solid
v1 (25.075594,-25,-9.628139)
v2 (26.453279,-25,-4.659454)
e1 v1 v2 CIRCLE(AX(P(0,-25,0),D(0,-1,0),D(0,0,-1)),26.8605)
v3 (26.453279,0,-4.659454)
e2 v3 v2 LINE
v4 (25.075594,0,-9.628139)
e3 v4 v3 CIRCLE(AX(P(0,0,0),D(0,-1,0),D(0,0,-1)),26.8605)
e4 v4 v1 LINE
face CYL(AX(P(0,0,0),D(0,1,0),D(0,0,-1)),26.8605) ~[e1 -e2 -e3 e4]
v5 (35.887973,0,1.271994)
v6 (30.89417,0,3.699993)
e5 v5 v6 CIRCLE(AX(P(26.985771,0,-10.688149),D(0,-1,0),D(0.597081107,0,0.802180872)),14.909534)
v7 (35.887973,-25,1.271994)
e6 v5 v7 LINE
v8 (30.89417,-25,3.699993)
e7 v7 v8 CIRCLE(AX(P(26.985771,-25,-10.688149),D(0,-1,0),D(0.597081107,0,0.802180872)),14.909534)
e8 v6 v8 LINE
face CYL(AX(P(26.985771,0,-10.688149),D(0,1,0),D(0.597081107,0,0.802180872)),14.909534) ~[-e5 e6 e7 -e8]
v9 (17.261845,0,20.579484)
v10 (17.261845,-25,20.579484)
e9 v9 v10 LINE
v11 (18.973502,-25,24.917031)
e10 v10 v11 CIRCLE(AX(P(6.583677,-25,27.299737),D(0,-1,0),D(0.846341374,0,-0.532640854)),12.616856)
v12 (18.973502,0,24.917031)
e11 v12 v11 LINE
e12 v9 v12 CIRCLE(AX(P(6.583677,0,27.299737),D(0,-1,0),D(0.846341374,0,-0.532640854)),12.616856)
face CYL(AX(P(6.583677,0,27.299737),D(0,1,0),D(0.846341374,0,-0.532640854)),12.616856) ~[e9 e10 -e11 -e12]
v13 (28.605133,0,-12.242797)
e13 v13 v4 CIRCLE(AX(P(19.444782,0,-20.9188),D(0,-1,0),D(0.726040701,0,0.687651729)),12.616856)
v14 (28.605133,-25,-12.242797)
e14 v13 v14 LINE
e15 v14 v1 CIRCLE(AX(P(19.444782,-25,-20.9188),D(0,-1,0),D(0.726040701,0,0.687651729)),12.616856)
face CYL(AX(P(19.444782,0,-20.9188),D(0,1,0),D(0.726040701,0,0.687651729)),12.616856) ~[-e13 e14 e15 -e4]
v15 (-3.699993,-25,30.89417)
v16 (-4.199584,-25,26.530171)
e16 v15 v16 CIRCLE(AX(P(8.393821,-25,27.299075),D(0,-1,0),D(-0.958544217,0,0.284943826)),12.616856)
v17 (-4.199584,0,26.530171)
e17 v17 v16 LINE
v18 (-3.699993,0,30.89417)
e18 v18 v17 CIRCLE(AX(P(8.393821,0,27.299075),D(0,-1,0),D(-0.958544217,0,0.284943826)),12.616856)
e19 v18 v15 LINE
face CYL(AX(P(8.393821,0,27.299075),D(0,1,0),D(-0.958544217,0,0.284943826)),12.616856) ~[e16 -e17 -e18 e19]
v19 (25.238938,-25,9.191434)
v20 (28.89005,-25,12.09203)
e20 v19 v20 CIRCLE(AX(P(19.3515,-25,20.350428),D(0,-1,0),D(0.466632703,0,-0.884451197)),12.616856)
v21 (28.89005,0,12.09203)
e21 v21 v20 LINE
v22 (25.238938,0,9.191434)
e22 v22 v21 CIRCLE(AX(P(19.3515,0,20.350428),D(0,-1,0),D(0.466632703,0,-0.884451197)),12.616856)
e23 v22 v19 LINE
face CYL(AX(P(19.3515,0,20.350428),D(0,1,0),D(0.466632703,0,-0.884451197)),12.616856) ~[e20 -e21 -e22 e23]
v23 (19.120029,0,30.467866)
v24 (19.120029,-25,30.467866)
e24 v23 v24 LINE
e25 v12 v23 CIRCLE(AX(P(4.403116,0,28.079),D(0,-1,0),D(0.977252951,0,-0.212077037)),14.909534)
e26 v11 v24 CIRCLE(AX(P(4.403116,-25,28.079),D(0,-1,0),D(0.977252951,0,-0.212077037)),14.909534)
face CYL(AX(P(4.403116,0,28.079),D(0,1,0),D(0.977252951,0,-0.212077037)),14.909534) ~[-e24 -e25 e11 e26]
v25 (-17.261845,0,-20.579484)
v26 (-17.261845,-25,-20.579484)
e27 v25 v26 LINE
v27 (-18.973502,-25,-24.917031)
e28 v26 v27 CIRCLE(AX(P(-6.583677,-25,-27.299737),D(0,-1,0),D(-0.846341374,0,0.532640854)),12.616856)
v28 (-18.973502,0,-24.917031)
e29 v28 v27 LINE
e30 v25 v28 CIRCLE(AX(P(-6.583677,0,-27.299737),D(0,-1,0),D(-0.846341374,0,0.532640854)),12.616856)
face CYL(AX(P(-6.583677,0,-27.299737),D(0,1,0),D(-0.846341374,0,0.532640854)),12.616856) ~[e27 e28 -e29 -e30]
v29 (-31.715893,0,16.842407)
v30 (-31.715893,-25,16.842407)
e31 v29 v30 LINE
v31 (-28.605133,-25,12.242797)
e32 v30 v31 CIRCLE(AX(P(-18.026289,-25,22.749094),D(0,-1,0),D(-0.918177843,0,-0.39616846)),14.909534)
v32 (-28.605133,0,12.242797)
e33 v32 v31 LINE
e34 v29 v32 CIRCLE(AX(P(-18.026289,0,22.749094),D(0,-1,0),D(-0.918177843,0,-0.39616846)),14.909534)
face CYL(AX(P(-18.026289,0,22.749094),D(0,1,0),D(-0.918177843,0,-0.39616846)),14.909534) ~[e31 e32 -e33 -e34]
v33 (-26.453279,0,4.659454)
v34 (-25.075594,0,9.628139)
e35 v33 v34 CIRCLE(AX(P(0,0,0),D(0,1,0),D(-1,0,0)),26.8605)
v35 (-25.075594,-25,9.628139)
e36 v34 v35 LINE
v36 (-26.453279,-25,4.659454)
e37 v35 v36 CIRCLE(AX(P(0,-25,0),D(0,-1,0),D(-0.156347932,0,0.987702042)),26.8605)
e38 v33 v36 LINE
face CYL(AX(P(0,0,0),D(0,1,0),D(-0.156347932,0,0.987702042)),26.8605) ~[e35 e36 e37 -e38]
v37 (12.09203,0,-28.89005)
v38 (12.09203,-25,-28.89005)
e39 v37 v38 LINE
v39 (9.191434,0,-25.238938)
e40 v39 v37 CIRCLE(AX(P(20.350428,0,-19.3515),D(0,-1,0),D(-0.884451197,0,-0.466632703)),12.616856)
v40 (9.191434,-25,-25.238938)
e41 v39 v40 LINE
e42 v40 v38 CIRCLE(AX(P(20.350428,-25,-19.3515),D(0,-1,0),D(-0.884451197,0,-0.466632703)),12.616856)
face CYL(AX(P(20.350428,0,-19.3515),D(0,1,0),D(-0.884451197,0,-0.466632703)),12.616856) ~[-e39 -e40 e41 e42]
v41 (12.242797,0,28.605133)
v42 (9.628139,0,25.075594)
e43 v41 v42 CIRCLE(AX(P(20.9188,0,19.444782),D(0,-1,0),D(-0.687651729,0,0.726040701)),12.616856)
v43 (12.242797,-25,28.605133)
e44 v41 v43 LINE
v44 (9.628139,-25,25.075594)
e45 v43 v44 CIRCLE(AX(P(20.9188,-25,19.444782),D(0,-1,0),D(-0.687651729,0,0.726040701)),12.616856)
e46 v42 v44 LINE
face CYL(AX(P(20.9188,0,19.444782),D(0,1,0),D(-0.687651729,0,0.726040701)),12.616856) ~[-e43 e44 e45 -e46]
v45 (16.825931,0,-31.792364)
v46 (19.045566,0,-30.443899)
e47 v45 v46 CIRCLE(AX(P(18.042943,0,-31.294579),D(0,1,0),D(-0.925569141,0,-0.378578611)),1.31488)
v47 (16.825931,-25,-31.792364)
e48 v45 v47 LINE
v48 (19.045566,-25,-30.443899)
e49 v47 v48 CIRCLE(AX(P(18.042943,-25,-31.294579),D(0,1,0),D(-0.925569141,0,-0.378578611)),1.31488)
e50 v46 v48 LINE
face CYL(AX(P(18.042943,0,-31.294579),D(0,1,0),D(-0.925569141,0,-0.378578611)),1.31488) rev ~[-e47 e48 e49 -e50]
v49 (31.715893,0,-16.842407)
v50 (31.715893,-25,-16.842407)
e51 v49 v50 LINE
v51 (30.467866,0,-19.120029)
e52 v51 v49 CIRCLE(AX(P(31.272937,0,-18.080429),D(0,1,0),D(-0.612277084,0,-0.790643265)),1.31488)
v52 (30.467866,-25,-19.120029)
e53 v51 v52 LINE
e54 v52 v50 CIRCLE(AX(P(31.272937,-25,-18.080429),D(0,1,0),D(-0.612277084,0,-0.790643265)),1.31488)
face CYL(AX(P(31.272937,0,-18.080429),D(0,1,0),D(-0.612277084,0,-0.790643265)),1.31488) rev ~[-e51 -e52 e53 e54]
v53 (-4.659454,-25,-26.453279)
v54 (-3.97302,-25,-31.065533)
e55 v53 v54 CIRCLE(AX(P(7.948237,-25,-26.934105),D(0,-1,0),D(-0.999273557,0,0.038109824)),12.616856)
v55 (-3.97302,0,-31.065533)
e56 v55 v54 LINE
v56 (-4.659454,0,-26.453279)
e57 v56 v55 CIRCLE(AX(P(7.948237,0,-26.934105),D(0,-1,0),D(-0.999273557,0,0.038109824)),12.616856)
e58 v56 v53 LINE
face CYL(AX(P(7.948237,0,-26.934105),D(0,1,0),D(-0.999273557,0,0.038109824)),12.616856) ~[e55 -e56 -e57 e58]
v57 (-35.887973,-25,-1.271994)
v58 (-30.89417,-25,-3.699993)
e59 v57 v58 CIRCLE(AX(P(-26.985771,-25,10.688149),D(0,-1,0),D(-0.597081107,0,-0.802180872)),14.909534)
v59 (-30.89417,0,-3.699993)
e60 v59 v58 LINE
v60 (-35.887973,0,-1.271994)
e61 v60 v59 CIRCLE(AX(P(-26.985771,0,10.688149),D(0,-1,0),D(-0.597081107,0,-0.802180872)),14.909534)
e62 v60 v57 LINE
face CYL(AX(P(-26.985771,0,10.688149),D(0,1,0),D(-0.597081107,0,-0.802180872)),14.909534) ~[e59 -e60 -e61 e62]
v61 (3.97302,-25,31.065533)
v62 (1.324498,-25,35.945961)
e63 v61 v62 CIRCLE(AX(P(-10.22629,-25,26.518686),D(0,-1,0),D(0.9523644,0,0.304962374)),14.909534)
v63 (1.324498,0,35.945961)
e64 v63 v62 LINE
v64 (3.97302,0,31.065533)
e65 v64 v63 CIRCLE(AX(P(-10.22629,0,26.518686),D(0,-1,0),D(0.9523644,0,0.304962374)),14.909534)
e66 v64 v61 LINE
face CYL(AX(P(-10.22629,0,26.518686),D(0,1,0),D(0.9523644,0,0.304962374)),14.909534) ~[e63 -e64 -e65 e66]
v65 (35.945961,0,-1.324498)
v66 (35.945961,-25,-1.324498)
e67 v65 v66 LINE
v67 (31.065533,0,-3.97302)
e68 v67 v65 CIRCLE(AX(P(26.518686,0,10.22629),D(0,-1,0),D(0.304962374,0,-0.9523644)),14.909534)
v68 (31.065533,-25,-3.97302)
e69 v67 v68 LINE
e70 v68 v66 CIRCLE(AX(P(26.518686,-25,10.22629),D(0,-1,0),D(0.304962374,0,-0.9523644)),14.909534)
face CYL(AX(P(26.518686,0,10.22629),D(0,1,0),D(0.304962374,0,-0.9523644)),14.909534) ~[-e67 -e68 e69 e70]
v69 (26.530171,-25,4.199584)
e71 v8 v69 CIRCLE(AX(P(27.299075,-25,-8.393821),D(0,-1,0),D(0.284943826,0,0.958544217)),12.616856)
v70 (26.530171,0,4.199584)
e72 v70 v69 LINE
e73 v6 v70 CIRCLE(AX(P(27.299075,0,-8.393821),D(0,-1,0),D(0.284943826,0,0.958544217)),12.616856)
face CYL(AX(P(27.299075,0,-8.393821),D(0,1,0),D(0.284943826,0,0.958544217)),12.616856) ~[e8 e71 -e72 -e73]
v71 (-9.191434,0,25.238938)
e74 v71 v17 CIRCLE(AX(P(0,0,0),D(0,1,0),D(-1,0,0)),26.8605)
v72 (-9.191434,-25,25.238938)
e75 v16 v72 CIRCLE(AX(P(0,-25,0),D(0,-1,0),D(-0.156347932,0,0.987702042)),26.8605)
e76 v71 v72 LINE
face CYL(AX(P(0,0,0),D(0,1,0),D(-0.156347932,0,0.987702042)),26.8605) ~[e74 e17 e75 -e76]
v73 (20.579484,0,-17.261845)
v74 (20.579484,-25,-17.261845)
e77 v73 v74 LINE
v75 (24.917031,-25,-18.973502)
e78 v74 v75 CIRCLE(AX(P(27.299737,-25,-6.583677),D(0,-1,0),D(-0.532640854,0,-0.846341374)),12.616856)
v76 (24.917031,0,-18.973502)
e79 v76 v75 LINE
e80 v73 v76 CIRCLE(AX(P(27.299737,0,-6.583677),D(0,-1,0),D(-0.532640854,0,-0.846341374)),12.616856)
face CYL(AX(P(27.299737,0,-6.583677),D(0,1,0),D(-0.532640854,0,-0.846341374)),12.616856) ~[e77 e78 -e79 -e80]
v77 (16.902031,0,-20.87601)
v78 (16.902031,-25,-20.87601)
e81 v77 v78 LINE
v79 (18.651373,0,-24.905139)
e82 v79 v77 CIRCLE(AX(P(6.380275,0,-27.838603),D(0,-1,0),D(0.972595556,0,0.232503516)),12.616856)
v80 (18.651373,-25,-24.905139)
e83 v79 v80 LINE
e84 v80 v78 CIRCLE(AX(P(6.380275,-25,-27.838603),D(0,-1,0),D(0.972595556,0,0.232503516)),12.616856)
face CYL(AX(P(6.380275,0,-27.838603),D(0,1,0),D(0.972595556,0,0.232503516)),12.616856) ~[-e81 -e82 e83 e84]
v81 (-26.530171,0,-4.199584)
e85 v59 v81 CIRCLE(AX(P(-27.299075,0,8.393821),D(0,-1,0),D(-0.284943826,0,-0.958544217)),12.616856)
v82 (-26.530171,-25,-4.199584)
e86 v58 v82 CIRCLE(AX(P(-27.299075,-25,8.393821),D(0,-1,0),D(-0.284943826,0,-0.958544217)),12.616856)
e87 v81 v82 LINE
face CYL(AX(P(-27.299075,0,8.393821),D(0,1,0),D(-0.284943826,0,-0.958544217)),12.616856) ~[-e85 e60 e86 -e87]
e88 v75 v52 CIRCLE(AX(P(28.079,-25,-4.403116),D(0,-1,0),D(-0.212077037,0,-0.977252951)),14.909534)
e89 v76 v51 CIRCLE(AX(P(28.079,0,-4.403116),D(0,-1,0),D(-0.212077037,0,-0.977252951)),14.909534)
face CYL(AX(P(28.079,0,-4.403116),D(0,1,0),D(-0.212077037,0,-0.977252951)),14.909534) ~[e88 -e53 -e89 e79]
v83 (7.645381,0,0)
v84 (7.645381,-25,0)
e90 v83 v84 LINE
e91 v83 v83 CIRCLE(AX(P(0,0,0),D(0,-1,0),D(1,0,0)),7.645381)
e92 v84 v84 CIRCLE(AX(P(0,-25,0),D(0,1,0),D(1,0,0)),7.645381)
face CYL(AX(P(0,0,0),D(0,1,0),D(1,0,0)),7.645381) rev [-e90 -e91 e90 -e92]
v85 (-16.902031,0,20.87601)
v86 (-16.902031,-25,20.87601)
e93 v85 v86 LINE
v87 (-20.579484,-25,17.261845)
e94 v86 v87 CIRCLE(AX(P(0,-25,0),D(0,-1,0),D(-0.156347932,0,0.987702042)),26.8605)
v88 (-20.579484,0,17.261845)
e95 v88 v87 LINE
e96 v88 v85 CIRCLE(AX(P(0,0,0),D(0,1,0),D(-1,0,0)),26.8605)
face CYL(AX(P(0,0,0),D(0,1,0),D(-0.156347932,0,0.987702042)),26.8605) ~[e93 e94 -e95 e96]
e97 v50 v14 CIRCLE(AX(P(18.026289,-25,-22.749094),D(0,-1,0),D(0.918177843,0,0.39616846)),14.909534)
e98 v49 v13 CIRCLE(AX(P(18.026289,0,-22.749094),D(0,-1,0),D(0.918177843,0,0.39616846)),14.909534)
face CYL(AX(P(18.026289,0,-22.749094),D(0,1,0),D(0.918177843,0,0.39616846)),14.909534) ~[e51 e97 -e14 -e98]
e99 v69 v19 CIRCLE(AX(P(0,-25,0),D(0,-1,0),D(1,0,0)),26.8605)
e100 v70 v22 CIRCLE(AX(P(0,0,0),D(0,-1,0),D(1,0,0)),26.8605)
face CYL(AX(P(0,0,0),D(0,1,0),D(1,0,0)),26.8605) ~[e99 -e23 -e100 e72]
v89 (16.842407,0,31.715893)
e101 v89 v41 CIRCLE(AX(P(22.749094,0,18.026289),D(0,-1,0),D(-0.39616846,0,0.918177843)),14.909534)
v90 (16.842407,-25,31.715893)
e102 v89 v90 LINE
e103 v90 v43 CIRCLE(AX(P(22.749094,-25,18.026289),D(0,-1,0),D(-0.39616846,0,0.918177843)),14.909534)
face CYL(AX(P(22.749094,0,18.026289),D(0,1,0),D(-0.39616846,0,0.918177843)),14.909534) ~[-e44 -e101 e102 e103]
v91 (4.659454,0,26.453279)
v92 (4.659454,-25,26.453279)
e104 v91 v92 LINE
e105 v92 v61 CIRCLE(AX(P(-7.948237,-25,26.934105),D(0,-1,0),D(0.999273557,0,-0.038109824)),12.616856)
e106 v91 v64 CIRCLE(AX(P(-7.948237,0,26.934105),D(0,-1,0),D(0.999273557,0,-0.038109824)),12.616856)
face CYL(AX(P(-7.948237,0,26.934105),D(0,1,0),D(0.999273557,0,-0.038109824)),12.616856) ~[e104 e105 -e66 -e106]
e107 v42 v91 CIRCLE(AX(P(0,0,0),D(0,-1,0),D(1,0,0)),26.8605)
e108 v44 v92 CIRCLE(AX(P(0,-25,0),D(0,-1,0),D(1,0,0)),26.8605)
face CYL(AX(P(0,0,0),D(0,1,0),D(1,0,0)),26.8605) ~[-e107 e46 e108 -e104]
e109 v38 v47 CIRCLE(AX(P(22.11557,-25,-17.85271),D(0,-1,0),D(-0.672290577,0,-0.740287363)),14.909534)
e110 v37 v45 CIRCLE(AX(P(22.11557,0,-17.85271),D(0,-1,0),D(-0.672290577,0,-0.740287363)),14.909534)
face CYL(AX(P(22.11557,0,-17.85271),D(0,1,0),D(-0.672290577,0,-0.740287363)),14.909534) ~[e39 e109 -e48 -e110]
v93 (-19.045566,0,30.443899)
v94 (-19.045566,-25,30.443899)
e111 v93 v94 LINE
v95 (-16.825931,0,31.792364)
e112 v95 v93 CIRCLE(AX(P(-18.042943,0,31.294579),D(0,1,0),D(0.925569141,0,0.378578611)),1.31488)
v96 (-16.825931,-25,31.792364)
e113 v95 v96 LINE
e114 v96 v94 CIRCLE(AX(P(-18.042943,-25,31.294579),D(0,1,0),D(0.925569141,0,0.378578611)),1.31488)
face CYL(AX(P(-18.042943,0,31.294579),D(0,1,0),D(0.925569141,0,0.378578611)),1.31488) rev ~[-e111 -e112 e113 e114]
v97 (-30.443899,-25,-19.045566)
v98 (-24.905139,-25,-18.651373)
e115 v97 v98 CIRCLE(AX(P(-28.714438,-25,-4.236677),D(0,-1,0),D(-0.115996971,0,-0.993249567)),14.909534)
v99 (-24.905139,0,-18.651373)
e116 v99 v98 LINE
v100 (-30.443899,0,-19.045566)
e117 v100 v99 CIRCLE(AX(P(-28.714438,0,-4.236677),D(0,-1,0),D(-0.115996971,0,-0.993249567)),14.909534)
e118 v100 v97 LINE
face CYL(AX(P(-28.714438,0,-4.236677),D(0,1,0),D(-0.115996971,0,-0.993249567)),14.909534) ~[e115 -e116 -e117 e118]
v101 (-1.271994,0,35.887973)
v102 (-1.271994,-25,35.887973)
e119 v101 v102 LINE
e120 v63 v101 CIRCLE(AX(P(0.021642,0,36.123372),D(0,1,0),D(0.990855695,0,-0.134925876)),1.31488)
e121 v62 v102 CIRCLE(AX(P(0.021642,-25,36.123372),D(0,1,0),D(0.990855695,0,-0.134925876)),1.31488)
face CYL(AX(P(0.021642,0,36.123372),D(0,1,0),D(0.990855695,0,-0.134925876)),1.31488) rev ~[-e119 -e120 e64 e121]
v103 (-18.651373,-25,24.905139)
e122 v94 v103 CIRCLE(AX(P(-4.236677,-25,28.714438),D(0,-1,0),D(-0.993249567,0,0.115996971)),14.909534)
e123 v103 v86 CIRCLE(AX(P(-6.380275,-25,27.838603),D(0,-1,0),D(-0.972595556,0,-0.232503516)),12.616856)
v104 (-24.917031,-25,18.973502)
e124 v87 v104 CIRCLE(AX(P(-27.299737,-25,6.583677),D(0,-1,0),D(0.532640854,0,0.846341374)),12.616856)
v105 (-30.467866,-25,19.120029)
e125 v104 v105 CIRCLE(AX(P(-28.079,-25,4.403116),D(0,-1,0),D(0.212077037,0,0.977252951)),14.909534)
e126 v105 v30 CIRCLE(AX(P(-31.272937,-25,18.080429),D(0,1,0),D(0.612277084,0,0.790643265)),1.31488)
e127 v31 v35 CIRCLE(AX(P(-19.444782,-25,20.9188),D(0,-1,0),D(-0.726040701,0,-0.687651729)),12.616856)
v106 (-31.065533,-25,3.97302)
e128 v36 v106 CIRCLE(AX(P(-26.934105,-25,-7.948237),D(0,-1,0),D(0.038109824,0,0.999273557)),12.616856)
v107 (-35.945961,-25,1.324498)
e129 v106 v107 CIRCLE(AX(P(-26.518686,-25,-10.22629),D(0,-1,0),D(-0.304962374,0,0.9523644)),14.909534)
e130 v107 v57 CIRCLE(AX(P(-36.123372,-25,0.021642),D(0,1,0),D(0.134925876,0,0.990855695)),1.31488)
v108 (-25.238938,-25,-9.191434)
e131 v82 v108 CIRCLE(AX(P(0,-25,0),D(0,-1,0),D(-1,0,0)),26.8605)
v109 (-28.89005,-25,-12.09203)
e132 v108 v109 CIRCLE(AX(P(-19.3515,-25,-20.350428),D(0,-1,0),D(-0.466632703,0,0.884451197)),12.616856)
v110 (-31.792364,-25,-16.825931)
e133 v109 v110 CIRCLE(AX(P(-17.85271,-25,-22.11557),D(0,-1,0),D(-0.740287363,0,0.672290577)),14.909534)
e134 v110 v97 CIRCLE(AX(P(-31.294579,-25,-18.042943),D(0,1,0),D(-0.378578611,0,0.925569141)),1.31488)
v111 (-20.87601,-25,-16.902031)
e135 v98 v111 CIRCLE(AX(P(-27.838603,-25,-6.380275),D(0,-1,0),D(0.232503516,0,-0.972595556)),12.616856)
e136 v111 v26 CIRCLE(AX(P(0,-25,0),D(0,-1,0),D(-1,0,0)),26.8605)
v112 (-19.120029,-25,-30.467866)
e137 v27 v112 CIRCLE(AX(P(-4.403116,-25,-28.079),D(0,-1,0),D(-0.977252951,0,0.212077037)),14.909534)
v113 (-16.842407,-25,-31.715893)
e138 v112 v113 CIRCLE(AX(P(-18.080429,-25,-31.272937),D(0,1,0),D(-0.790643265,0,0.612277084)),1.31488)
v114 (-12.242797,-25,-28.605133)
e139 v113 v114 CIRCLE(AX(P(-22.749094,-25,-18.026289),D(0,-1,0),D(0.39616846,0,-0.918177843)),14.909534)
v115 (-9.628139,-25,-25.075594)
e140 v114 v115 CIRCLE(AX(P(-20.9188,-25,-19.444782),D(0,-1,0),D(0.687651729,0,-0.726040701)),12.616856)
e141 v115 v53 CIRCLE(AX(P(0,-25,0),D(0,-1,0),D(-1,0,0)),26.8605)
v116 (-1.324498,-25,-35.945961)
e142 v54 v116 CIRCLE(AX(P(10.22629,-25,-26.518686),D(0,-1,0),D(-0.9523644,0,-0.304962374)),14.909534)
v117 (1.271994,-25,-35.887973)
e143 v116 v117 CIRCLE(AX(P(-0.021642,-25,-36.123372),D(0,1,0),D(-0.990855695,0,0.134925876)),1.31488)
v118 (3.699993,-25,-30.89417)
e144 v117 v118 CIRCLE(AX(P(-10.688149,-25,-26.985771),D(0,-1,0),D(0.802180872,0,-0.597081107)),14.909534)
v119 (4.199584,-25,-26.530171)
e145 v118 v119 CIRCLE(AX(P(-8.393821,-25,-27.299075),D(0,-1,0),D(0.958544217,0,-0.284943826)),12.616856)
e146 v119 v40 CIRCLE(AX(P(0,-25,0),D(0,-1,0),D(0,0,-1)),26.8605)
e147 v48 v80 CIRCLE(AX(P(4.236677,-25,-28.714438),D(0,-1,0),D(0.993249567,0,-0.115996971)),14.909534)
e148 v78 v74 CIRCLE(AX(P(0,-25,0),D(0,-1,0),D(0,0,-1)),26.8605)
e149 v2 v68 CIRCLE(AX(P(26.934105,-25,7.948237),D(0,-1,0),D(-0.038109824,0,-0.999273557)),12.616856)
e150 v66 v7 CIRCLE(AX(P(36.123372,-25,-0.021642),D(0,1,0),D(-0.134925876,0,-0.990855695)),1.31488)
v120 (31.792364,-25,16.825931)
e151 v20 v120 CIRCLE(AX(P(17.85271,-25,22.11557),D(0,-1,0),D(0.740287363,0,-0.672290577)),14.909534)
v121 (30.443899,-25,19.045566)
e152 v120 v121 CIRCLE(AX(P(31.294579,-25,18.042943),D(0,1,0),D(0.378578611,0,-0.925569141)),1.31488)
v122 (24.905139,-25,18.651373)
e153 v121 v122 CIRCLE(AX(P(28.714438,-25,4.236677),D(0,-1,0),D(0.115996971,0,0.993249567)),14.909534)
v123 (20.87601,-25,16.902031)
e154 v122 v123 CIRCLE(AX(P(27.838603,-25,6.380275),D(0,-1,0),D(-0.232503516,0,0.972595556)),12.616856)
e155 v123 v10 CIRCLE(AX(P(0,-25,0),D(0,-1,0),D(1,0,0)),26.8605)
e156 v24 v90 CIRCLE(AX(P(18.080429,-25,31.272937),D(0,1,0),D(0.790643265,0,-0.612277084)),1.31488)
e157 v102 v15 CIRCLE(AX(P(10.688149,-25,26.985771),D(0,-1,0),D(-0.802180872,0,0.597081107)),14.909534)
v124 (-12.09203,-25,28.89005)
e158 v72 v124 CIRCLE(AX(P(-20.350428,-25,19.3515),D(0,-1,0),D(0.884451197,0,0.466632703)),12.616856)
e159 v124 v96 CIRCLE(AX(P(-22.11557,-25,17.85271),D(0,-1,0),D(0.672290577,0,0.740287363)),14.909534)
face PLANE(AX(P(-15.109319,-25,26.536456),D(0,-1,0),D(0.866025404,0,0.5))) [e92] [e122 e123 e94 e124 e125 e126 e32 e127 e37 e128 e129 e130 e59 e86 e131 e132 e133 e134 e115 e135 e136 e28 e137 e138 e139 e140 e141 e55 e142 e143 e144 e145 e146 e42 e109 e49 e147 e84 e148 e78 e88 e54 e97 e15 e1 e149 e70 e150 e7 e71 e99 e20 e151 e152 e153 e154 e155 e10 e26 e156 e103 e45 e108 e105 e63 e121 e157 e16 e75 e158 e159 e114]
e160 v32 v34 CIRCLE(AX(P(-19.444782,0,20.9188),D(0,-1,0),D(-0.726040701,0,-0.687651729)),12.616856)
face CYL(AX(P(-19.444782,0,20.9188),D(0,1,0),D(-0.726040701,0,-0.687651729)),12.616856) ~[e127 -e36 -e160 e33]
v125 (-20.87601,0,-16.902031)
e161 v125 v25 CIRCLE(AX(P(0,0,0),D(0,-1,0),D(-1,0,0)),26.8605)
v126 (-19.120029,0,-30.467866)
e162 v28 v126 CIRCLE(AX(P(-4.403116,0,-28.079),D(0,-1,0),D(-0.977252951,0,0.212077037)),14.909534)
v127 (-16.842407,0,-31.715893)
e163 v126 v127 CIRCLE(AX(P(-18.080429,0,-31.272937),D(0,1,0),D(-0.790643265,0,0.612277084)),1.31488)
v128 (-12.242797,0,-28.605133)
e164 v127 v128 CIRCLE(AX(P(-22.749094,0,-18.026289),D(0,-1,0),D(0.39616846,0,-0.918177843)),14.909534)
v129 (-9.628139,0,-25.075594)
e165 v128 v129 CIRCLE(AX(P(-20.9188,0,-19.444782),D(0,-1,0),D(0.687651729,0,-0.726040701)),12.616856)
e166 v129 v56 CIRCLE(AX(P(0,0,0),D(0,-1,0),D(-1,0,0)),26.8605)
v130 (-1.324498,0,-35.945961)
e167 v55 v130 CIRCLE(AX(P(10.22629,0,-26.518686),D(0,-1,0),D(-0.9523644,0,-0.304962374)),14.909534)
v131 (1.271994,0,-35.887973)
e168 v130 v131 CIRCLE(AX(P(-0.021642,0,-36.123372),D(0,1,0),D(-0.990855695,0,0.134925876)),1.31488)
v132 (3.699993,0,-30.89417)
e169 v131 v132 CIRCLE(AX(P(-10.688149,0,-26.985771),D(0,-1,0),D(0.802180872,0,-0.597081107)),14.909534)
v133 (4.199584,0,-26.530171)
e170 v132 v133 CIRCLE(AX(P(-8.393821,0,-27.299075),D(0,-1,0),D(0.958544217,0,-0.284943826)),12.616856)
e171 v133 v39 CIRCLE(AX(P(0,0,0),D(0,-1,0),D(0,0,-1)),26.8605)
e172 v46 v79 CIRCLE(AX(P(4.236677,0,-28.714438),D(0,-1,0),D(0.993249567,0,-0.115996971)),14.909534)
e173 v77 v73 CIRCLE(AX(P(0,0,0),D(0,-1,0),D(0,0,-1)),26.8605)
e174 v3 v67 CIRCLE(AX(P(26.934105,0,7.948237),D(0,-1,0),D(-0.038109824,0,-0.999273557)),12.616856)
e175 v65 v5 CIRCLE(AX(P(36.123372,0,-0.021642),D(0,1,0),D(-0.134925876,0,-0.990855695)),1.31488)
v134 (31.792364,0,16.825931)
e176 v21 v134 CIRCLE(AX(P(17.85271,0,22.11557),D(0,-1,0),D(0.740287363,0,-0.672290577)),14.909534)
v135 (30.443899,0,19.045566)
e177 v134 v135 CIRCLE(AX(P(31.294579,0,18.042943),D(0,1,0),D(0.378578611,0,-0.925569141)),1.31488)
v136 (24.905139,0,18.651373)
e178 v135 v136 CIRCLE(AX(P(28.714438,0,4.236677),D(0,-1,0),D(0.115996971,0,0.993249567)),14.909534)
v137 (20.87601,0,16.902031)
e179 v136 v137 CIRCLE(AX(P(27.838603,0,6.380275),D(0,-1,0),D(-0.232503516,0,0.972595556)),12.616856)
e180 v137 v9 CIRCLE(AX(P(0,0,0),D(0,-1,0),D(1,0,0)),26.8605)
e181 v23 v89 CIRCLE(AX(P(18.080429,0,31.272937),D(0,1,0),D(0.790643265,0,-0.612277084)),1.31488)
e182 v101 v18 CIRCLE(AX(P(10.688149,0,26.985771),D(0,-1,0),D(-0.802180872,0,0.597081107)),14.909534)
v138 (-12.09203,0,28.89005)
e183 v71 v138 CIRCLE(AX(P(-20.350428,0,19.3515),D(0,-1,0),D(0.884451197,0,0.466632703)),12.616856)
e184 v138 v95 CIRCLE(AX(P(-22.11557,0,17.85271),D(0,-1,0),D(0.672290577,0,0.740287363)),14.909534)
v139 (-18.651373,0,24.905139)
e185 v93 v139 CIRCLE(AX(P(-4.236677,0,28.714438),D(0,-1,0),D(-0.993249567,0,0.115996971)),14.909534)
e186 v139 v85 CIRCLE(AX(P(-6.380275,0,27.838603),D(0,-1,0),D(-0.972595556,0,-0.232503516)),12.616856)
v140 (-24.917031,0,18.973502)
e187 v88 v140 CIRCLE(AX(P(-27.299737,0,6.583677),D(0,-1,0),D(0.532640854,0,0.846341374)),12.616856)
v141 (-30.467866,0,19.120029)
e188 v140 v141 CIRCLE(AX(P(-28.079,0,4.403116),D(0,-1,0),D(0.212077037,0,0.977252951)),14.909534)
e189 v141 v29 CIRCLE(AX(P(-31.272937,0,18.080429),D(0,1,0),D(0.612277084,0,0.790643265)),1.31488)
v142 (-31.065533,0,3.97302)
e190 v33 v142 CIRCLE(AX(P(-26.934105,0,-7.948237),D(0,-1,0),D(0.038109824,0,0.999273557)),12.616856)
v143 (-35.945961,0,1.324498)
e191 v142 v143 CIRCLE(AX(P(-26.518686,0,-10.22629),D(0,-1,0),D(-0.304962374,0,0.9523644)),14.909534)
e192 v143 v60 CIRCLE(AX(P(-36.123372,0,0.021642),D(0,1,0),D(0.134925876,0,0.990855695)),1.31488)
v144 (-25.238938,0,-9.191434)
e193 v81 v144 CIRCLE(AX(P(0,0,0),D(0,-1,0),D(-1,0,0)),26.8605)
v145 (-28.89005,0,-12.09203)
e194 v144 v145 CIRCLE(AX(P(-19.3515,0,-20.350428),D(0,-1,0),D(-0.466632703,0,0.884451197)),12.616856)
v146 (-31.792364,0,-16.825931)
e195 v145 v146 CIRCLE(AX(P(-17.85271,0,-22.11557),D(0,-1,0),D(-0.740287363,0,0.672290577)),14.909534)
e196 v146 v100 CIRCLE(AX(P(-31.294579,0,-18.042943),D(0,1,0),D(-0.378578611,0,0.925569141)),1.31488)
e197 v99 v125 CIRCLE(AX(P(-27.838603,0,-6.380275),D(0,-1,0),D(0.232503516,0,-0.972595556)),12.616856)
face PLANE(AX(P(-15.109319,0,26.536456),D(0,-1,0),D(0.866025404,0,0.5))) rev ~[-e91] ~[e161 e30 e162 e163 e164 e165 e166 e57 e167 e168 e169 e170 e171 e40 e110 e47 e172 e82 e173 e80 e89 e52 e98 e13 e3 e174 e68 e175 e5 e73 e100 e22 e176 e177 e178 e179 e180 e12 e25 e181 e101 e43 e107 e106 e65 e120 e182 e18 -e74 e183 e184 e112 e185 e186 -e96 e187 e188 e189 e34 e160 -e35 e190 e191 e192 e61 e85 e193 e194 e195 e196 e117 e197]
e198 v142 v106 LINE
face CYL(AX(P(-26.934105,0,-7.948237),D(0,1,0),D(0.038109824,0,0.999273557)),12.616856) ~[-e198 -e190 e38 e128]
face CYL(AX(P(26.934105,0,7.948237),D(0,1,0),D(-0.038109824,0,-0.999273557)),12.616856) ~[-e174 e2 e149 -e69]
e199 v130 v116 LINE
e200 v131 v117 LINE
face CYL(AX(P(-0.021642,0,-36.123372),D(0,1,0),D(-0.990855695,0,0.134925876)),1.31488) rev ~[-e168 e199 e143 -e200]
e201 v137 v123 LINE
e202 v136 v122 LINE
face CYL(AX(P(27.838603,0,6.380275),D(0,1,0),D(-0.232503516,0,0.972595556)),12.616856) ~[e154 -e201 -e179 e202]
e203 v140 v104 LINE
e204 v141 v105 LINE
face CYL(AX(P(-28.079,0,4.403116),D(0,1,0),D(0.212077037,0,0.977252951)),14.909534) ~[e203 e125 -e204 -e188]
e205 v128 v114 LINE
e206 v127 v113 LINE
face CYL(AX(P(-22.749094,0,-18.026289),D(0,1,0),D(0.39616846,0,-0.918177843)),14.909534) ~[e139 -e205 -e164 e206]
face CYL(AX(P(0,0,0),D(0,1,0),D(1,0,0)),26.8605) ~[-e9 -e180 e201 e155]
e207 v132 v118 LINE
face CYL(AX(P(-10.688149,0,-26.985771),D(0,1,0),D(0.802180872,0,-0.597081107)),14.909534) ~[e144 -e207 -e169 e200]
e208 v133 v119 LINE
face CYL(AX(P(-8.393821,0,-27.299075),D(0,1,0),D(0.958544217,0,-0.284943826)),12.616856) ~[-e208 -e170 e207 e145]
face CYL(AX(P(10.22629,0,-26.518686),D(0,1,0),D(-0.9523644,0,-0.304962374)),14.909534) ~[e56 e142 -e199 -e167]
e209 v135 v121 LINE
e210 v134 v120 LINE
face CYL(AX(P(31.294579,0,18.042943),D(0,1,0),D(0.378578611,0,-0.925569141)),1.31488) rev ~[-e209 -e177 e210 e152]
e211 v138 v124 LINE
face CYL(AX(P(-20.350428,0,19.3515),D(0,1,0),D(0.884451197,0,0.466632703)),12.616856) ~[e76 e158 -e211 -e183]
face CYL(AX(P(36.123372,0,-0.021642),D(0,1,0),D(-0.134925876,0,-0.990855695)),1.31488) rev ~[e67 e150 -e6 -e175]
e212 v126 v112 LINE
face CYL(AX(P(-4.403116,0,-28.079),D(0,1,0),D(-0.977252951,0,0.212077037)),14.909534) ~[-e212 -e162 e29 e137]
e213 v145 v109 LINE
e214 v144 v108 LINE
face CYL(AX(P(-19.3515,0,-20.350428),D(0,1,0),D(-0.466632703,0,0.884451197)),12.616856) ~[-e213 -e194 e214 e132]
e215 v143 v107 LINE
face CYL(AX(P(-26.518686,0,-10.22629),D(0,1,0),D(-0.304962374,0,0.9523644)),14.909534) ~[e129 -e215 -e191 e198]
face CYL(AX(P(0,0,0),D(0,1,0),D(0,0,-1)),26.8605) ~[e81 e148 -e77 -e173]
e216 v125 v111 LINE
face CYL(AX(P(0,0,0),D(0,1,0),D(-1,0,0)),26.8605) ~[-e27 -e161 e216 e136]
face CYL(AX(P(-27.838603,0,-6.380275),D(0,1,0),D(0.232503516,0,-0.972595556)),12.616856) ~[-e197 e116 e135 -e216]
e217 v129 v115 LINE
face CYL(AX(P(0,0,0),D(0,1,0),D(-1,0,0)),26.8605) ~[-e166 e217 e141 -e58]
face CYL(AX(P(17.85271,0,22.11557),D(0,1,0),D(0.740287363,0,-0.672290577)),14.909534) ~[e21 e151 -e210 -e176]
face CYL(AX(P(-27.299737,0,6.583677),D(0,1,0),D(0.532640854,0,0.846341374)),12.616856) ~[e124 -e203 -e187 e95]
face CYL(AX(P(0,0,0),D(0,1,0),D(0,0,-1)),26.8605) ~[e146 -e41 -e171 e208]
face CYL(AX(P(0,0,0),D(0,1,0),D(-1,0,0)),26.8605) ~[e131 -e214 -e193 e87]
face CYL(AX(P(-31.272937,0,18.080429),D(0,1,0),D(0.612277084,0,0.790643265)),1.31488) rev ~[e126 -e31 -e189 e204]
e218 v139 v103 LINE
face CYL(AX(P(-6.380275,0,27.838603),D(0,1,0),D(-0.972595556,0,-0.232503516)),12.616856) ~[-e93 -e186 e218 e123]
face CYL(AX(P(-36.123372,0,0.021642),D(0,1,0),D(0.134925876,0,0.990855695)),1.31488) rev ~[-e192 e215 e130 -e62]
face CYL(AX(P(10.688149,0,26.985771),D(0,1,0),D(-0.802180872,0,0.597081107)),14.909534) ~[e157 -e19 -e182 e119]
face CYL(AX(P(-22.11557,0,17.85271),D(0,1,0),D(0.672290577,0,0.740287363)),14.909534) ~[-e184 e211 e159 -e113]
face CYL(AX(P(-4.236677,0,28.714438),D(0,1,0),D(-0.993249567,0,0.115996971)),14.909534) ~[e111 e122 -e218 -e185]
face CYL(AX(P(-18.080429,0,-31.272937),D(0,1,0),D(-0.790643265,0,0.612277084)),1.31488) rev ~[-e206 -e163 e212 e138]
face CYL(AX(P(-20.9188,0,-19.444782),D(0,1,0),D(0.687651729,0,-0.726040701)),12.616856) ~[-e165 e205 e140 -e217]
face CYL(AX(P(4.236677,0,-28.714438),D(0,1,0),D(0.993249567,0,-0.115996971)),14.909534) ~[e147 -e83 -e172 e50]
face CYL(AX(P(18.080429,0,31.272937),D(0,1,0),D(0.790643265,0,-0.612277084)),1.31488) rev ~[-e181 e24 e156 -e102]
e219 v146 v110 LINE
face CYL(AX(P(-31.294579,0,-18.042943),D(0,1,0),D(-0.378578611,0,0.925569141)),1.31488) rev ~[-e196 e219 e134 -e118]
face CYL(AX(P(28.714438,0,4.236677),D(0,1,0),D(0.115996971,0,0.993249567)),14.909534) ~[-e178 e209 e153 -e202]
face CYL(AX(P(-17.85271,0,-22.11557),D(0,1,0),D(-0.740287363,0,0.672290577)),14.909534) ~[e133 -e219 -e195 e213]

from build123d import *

# Parameters (mm, degrees)
F0_R     = 7.6453811345
F1_DEPTH = 25
F2_COUNT = 12


with BuildPart() as f1:
    # F0 (on Front) → F1 (new body)
    with BuildSketch(Plane.XZ):
        with BuildLine():
            ThreePointArc((-4.199583616, 26.5301707062), (0.2331271007, 26.859488305), (4.6594538037, 26.4532786342))
            ThreePointArc((4.6594538037, 26.4532786342), (4.5311676373, 28.7913934414), (3.9730198519, 31.0655326722))
            ThreePointArc((3.9730198519, 31.0655326722), (2.8779662016, 33.6301332845), (1.3244981356, 35.9459605158))
            ThreePointArc((1.3244981356, 35.9459605158), (0.0510003023, 34.8088199887), (-1.2719943746, 35.8879726168))
            ThreePointArc((-1.2719943746, 35.8879726168), (-2.7205256231, 33.5051012356), (-3.6999932599, 30.8941699945))
            ThreePointArc((-3.6999932599, 30.8941699945), (-4.1411626969, 28.7340788632), (-4.199583616, 26.5301707062))
        make_face()
        with BuildLine():
            ThreePointArc((-4.199583616, 26.5301707062), (-17.4453940129, -20.4241202499), (26.8605, 0))
            ThreePointArc((26.8605, 0), (20.5747626857, 17.2674723303), (4.6594538037, 26.4532786342))
            ThreePointArc((4.6594538037, 26.4532786342), (0.2331271007, 26.859488305), (-4.199583616, 26.5301707062))
        make_face()
        Circle(F0_R, mode=Mode.SUBTRACT)
    extrude(amount=F1_DEPTH)

    # F2: F1 ×12 about axis
    f2_axis = Axis((0, 0, 0), (0, 1, 0))


with BuildPart() as f1_1:
    add(f1.part)
    for i in range(1, F2_COUNT):
        add(f1.part.rotate(f2_axis, i * 360 / F2_COUNT))


solid = f1_1.part
